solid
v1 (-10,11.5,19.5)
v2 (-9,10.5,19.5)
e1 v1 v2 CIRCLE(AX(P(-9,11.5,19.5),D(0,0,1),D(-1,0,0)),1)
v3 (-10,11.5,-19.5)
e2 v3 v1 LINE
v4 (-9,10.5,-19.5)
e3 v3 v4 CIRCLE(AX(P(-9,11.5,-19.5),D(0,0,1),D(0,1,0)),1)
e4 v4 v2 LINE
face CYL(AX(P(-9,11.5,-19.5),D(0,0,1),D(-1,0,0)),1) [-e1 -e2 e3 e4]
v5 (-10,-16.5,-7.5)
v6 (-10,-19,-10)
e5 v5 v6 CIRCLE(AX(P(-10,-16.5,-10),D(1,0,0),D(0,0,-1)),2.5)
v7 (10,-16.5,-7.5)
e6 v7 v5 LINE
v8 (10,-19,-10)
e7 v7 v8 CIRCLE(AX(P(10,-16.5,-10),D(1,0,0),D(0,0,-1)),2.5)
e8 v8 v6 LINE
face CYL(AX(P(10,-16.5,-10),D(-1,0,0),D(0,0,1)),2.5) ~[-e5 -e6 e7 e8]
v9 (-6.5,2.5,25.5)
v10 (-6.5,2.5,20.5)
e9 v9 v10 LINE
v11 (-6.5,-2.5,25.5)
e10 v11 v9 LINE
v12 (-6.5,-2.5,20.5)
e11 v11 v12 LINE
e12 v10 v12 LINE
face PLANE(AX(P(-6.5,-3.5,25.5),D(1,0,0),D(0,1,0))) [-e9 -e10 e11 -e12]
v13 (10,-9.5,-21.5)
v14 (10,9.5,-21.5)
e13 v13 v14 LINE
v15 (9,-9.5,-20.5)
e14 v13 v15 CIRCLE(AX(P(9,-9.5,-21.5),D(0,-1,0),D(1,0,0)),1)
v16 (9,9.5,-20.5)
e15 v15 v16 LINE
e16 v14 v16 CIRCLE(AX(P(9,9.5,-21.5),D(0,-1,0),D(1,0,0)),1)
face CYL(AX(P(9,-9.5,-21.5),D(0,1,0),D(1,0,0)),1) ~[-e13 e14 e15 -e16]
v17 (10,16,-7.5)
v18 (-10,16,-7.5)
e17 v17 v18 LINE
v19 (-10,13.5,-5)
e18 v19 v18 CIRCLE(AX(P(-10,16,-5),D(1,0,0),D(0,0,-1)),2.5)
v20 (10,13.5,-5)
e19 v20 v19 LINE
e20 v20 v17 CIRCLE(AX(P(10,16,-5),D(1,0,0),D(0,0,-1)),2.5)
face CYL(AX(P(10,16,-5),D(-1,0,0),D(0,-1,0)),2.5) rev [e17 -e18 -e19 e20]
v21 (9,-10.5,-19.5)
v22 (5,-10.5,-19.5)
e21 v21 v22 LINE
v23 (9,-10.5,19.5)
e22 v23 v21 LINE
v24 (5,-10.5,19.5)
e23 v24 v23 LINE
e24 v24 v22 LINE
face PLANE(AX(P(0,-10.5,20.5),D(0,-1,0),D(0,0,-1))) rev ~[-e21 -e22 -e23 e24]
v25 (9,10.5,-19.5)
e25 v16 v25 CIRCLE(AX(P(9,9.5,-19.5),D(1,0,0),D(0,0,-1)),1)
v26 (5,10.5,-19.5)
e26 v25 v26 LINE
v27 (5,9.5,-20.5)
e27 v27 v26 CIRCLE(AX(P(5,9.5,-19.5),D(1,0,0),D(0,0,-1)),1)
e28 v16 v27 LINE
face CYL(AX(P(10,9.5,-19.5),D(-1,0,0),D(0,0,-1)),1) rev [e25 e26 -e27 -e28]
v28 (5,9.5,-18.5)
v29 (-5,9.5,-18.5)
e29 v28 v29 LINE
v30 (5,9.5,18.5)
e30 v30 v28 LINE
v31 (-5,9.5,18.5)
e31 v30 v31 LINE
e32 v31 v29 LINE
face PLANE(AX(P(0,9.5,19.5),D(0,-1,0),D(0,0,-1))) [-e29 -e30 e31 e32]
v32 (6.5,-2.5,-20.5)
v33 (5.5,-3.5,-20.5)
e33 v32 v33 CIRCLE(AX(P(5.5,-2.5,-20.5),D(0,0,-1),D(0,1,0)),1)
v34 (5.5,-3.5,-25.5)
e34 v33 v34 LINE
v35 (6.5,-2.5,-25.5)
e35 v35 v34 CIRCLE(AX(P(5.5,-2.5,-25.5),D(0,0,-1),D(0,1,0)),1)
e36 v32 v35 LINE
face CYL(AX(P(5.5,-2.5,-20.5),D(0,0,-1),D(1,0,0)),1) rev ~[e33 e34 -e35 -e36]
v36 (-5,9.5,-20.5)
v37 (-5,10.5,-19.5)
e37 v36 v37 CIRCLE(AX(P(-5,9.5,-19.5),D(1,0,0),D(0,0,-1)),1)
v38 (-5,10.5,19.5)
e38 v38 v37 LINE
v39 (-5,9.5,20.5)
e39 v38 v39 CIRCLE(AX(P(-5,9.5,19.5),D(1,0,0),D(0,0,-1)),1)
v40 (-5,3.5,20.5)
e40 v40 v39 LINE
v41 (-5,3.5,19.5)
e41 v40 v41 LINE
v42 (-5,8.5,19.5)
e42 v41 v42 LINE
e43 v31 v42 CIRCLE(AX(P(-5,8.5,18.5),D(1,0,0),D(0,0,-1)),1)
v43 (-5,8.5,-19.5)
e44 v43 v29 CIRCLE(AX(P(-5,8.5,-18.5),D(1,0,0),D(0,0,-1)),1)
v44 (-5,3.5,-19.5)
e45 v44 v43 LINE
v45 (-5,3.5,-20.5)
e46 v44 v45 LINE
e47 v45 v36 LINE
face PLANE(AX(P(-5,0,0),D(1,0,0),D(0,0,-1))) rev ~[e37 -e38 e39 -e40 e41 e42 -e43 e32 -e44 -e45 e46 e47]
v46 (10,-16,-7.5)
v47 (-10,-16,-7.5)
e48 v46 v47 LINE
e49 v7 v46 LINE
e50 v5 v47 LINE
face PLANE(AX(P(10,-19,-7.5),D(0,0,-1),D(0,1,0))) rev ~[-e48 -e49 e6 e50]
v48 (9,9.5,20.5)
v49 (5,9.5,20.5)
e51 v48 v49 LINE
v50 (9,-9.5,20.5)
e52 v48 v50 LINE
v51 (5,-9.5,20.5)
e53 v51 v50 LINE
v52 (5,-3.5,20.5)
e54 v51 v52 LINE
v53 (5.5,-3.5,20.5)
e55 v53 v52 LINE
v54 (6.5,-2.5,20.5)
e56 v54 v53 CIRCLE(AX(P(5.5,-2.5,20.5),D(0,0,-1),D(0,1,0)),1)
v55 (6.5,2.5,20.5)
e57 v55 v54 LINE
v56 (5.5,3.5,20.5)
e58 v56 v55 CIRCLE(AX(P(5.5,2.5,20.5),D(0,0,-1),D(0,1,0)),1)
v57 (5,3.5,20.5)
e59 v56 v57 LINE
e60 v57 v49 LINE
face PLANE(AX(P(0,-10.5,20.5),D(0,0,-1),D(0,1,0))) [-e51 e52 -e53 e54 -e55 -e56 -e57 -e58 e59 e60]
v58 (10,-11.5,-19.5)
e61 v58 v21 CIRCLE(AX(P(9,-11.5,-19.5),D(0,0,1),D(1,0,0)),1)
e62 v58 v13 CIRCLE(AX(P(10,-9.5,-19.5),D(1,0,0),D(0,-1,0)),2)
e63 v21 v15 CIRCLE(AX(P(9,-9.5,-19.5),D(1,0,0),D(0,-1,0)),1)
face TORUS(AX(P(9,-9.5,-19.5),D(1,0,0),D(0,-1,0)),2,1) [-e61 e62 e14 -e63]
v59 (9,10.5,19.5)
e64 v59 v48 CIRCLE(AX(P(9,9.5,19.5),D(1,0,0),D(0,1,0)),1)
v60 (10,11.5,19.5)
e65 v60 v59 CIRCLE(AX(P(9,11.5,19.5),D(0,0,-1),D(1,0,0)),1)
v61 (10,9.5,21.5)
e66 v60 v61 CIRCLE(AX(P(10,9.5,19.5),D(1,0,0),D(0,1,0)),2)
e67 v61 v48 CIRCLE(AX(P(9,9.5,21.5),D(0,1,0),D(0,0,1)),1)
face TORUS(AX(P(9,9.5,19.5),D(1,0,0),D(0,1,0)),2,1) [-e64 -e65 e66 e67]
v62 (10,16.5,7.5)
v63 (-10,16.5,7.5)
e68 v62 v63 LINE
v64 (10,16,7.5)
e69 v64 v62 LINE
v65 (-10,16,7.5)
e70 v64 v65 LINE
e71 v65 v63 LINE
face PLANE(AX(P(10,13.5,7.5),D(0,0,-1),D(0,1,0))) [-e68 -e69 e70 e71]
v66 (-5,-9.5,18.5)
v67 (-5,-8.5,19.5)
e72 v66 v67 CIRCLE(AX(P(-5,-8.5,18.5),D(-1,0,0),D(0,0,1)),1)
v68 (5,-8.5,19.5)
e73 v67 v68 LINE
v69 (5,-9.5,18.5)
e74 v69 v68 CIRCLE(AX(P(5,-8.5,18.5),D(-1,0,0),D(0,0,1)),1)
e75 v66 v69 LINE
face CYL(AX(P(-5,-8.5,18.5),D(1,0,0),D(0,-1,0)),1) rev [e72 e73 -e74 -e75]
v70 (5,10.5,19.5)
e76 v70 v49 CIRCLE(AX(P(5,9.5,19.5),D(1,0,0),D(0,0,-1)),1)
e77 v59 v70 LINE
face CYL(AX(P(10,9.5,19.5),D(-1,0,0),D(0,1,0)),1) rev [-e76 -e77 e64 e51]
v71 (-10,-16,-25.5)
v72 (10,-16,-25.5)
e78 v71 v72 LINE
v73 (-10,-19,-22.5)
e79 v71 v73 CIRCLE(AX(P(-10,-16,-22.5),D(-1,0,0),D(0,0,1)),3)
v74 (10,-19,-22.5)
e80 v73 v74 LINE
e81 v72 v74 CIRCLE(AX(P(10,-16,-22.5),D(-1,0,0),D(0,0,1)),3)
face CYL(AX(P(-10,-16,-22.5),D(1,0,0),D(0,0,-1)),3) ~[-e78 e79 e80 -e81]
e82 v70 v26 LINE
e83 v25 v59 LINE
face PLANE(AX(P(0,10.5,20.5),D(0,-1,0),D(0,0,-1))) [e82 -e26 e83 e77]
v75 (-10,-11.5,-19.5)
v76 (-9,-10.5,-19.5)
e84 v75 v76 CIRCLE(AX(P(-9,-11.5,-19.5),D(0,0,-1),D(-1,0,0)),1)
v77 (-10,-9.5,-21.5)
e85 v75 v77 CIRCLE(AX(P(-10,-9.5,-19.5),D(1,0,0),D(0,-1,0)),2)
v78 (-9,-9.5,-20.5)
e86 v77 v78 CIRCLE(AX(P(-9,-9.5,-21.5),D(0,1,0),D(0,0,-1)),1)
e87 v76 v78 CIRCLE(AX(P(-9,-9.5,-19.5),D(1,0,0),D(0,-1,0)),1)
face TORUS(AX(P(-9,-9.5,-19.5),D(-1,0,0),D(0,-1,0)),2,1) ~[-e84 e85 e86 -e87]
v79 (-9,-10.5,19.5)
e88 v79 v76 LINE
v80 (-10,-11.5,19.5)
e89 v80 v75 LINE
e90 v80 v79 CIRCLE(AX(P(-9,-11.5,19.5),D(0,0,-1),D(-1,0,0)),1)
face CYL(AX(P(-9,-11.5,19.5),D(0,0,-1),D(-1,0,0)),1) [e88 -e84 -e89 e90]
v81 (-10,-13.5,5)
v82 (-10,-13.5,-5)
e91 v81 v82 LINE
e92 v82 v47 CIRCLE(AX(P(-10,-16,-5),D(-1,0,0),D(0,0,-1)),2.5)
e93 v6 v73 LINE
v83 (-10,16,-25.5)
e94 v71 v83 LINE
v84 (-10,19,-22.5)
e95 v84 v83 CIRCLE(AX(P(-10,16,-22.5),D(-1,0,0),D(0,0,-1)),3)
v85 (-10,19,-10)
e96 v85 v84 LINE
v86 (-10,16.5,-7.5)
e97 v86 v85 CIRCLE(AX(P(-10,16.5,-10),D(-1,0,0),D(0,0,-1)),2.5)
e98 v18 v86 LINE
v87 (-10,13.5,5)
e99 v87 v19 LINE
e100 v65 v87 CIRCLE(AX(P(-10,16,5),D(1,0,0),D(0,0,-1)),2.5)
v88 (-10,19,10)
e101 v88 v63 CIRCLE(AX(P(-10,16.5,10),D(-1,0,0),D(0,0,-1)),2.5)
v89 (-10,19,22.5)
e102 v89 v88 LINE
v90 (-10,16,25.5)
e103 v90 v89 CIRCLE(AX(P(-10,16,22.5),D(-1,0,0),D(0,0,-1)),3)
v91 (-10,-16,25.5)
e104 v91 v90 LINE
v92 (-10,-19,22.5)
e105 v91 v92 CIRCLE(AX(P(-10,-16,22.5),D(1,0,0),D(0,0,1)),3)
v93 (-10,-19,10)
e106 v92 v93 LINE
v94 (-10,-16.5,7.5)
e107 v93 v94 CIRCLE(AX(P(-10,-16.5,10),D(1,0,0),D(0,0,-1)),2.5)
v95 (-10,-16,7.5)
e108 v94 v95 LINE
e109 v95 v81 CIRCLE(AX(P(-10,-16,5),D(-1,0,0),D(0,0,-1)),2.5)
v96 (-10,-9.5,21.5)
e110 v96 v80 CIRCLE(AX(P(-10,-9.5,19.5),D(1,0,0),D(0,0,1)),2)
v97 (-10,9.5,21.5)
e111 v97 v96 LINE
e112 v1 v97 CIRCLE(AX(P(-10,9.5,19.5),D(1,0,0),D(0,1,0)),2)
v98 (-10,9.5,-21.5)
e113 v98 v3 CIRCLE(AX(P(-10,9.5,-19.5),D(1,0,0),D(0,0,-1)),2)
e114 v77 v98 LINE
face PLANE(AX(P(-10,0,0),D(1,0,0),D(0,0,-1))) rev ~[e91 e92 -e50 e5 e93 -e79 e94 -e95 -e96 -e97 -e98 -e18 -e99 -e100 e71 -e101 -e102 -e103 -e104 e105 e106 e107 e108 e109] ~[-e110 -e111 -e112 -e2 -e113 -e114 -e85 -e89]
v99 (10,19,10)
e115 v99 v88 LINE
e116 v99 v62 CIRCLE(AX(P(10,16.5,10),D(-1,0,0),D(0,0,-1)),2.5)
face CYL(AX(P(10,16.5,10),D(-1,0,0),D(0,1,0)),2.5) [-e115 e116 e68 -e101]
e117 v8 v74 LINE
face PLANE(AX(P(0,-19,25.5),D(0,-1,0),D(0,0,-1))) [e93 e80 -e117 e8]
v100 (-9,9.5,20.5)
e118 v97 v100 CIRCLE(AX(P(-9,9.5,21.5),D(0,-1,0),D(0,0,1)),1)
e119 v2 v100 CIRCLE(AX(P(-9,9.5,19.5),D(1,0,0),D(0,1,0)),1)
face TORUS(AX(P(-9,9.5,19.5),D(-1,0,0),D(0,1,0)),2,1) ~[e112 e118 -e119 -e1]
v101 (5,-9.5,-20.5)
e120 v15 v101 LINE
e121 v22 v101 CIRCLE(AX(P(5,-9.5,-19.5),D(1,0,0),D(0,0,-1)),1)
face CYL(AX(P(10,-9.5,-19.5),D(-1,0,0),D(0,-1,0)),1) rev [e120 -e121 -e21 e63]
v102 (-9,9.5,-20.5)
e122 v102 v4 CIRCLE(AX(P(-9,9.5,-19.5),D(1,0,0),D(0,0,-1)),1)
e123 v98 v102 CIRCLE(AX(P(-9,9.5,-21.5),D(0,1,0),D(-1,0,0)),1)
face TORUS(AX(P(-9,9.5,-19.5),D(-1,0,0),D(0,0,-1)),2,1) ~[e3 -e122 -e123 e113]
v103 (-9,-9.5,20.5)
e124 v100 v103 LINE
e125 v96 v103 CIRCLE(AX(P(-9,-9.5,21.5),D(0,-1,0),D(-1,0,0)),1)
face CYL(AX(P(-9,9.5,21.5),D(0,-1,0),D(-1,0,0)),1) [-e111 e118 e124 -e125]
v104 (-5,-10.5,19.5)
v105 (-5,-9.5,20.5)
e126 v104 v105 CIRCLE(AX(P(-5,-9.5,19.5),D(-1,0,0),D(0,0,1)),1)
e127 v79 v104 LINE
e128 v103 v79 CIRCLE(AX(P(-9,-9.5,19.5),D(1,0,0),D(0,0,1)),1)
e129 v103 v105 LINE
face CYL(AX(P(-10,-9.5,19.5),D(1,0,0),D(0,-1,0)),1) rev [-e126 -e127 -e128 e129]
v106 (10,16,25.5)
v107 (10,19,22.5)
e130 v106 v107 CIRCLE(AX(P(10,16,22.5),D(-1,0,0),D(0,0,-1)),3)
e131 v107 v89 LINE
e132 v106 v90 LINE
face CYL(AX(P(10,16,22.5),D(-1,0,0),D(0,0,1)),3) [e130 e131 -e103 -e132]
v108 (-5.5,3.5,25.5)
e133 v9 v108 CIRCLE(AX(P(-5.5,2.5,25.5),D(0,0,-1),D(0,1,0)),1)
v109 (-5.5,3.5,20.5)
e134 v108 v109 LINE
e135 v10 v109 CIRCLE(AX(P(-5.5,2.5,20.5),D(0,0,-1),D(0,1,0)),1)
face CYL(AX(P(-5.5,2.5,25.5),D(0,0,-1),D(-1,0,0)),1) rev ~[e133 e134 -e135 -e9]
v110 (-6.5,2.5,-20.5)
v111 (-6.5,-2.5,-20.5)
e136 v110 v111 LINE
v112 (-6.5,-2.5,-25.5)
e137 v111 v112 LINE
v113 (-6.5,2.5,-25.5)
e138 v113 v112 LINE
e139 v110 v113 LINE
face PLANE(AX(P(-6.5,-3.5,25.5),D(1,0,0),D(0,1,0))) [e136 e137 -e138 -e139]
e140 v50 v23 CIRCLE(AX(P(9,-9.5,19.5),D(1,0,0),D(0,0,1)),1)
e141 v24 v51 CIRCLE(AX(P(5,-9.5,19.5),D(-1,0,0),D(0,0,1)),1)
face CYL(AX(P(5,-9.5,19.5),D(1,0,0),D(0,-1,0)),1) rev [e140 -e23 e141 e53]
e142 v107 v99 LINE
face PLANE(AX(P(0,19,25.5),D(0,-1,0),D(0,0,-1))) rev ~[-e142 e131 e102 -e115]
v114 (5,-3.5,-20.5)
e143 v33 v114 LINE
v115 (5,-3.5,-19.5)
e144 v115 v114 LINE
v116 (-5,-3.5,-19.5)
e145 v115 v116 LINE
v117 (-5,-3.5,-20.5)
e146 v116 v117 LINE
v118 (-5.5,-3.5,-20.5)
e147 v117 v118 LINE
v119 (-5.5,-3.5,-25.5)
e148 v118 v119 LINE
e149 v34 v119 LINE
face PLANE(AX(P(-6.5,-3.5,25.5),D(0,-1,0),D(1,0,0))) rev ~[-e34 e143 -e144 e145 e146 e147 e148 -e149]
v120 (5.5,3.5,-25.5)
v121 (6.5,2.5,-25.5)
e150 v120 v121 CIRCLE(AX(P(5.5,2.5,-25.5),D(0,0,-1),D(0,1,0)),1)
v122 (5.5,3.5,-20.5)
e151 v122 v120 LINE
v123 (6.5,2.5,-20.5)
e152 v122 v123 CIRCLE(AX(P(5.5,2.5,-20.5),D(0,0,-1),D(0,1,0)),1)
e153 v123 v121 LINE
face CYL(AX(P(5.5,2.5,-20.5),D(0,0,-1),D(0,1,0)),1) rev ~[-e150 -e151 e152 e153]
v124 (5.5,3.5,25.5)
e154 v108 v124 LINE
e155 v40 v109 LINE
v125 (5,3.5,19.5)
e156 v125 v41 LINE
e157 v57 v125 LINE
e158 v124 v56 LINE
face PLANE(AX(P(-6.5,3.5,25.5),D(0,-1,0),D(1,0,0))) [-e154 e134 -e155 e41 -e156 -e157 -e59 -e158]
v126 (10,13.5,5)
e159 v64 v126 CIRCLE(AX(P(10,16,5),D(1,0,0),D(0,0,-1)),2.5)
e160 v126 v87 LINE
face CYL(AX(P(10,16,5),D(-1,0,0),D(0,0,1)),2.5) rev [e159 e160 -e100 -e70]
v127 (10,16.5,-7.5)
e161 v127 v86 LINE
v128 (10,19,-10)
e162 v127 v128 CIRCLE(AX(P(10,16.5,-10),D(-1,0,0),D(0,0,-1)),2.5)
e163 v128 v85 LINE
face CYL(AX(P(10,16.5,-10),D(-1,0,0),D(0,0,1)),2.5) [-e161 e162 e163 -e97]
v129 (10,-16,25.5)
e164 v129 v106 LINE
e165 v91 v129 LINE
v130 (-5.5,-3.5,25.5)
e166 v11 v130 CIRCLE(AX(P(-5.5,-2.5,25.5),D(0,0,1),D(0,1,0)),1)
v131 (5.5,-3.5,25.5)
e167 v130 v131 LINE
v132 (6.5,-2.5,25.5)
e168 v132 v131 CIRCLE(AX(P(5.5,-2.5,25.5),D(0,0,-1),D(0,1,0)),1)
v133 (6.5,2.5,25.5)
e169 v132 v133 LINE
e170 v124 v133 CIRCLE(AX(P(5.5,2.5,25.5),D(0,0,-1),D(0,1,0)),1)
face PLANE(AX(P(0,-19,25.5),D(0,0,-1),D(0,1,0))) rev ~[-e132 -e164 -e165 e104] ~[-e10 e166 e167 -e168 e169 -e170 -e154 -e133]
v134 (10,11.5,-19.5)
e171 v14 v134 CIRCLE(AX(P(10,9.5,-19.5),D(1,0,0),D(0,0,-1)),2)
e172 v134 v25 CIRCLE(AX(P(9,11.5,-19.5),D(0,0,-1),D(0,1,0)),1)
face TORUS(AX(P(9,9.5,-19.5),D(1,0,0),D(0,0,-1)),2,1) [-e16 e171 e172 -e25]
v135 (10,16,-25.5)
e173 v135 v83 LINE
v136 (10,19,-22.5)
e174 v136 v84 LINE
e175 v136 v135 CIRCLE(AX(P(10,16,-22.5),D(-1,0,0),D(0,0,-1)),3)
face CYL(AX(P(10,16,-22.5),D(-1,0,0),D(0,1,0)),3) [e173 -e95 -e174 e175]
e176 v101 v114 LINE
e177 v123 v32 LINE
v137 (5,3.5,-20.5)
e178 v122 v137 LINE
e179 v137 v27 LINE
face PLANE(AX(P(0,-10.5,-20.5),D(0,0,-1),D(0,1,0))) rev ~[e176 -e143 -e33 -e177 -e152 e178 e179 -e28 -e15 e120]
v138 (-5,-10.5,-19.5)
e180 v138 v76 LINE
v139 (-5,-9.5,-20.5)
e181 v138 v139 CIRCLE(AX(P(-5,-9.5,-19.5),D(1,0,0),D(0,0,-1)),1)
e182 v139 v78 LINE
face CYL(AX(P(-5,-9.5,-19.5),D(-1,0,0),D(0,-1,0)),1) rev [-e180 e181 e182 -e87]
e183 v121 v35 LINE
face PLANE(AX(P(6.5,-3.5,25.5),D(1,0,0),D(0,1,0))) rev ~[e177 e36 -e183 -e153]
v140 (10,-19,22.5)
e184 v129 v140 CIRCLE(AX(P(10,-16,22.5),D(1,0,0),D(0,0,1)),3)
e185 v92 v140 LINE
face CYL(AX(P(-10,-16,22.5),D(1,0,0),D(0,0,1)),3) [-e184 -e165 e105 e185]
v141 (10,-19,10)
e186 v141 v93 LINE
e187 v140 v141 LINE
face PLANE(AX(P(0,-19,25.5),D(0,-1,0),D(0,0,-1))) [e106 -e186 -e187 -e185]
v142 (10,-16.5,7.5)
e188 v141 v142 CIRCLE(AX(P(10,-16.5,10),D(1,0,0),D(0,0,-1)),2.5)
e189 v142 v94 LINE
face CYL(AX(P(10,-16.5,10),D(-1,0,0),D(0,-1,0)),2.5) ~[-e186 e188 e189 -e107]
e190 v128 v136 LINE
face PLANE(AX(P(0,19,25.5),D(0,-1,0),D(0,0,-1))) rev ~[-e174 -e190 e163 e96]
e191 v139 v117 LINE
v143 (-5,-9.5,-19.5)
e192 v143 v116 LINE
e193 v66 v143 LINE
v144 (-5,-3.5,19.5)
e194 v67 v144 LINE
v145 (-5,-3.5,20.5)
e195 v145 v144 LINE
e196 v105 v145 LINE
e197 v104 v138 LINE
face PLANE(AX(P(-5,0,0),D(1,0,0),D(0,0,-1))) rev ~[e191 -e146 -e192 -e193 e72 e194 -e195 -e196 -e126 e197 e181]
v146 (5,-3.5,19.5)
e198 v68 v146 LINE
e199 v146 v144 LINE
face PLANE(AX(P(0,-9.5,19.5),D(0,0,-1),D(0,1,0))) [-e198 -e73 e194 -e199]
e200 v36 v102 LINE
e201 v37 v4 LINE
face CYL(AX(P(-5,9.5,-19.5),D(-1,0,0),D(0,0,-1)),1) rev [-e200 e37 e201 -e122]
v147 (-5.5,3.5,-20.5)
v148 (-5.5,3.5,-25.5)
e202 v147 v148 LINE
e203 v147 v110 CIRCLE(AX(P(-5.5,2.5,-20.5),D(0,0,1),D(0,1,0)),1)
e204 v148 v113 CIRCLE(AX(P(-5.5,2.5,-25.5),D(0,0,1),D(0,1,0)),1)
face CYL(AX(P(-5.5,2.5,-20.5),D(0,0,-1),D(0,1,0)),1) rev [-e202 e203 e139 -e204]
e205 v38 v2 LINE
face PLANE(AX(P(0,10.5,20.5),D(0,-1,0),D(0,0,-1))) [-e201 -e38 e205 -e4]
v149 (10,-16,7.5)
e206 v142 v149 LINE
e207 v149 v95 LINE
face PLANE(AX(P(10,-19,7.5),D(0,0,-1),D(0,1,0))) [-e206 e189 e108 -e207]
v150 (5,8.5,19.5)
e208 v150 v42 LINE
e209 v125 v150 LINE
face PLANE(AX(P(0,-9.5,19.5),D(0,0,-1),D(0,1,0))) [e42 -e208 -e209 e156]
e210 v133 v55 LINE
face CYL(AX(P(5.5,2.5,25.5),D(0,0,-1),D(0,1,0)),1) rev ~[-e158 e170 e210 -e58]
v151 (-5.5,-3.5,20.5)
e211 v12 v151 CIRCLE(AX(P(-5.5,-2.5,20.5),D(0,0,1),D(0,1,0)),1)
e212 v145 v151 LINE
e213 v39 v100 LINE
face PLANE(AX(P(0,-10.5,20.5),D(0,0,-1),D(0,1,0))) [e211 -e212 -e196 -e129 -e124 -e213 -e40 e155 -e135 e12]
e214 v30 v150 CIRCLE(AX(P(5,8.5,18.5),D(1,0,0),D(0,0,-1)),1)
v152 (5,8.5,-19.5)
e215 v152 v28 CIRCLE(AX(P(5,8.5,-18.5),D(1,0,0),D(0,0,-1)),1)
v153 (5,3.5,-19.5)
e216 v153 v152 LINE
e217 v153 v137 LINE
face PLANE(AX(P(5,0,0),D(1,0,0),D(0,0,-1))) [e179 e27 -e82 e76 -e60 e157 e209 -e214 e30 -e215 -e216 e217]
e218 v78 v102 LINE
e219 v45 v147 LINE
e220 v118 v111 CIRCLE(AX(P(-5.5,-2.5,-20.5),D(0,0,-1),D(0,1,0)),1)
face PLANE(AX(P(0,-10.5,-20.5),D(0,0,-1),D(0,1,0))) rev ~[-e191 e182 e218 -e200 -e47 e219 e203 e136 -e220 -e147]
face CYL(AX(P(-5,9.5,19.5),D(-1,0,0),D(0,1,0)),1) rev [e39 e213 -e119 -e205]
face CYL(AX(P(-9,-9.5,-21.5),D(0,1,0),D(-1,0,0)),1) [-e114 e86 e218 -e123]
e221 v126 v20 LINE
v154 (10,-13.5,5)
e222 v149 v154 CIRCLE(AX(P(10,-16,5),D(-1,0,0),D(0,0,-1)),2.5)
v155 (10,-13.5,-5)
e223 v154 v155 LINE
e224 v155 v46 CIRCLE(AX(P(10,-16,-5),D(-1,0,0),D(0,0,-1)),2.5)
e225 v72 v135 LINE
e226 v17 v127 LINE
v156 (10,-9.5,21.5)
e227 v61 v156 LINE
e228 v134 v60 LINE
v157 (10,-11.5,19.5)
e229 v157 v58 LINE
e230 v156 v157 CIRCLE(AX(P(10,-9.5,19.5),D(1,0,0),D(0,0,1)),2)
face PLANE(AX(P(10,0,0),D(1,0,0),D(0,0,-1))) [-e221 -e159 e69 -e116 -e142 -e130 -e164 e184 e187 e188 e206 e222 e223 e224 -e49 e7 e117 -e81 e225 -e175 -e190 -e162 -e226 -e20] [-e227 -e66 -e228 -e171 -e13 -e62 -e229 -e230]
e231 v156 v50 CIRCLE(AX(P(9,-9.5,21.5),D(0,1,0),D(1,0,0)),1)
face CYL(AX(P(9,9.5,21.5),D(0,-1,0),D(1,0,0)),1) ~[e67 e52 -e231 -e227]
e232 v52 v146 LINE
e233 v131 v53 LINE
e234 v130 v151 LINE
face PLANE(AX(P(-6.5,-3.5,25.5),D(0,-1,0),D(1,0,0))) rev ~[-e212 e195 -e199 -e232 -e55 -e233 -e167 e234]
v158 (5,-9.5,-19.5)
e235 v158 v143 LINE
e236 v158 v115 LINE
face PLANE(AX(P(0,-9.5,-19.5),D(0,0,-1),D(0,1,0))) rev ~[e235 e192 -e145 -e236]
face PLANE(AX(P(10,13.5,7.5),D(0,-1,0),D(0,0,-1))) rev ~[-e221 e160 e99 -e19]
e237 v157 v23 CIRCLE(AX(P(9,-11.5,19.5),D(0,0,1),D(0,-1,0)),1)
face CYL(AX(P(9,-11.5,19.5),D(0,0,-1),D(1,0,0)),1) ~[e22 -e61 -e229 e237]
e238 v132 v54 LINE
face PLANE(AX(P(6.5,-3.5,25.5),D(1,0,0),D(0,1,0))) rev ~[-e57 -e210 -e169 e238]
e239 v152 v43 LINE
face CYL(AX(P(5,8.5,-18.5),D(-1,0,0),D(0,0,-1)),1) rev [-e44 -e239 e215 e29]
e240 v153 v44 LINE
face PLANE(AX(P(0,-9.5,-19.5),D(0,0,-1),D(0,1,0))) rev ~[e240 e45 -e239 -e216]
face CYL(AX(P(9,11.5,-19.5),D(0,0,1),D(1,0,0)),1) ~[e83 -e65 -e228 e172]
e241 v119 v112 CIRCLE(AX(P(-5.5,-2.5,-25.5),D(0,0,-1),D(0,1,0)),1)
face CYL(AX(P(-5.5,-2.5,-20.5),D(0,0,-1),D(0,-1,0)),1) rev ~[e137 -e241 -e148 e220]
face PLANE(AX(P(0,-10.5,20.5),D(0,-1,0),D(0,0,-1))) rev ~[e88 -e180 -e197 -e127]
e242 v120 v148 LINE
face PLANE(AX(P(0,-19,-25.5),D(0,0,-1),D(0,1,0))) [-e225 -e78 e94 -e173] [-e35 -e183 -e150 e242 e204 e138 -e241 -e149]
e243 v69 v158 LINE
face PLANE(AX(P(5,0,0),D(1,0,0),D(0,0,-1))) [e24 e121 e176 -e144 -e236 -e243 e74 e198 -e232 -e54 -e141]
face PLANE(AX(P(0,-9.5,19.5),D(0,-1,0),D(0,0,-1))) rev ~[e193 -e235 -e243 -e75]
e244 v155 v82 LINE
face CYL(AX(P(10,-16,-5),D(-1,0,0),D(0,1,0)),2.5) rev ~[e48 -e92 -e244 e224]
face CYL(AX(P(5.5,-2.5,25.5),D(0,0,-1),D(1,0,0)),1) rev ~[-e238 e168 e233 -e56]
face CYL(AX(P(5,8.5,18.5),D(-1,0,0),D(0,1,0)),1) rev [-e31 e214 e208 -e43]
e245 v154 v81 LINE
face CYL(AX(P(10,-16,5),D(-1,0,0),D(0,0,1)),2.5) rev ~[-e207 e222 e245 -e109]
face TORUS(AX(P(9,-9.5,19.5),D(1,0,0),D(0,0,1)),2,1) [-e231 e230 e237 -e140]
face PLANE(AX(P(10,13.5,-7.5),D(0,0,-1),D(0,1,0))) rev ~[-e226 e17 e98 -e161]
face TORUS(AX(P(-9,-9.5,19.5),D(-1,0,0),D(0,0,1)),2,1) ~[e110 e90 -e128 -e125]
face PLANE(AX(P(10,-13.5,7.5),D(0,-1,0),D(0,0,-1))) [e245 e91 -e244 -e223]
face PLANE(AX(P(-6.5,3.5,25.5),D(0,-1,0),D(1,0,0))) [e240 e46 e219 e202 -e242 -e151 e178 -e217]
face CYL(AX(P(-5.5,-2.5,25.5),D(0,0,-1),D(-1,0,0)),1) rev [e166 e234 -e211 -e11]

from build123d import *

# Parameters (mm, degrees)
SKETCH1_W                   = 51
SKETCH1_H                   = 38
SKETCH1_W_2                 = 41
SKETCH1_H_2                 = 21
MAIN_BODY_DEPTH             = 10
SKETCH2_W                   = 41
SKETCH2_H                   = 21
SKETCH2_W_2                 = 39
SKETCH2_H_2                 = 19
MID_SERVO_GAP_DEPTH         = 5
EDGE_CONTOURING_R           = 1
SKETCH3_W                   = 13
SKETCH3_H                   = 7
AIRWAY_DEPTH                = 52
SKETCH4_W                   = 15
SKETCH4_H                   = 5.5
CLEARANCE_CABLES_DEPTH      = 21
CONTOURING_OUTER_R          = 3
CONTOURING_AIRWAY_R         = 1
CONTOURING_INNER_R          = 2.5
CLEARANCE_SERVO_INSERTION_R = 1


with BuildPart() as part:
    # Sketch1 → Main Body (new body, symmetric)
    with BuildSketch(Plane(origin=(0, 0, 0), x_dir=(0, 0, -1), z_dir=(1, 0, 0))):
        Rectangle(SKETCH1_W, SKETCH1_H)
        Rectangle(SKETCH1_W_2, SKETCH1_H_2, mode=Mode.SUBTRACT)
    extrude(amount=MAIN_BODY_DEPTH, both=True)

    # Sketch2 → Mid Servo Gap (add, symmetric)
    with BuildSketch(Plane(origin=(0, 0, 0), x_dir=(0, 0, -1), z_dir=(1, 0, 0))):
        Rectangle(SKETCH2_W, SKETCH2_H)
        Rectangle(SKETCH2_W_2, SKETCH2_H_2, mode=Mode.SUBTRACT)
    extrude(amount=MID_SERVO_GAP_DEPTH, both=True)

    # Edge Contouring
    edge_contouring_edges = [part.edges().sort_by_distance(p)[0] for p in [
        (7.5, 10.5, 20.5),
        (7.5, -10.5, 20.5),
        (7.5, -10.5, -20.5),
        (7.5, 10.5, -20.5),
        (-7.5, 10.5, -20.5),
        (-7.5, 10.5, 20.5),
        (-7.5, -10.5, -20.5),
        (-7.5, -10.5, 20.5),
        (0, 9.5, 19.5),
        (0, -9.5, 19.5),
        (0, 9.5, -19.5),
    ]]
    fillet(edge_contouring_edges, radius=EDGE_CONTOURING_R)

    # Sketch3 → Airway (cut, through all)
    with BuildSketch(Plane.XY.offset(25.5)):
        Rectangle(SKETCH3_W, SKETCH3_H)
    extrude(amount=-AIRWAY_DEPTH, mode=Mode.SUBTRACT)

    # Sketch4 → Clearance - Cables (cut, through all)
    with BuildSketch(Plane(origin=(10, 0, 0), x_dir=(0, 0, -1), z_dir=(1, 0, 0))):
        with Locations((0, 16.25)):
            Rectangle(SKETCH4_W, SKETCH4_H)
        with Locations((0, -16.25)):
            Rectangle(SKETCH4_W, SKETCH4_H)
    extrude(amount=-CLEARANCE_CABLES_DEPTH, mode=Mode.SUBTRACT)

    # Contouring - Outer
    contouring_outer_edges = [part.edges().sort_by_distance(p)[0] for p in [
        (0, 19, 25.5),
        (0, 19, -25.5),
        (0, -19, -25.5),
        (0, -19, 25.5),
    ]]
    fillet(contouring_outer_edges, radius=CONTOURING_OUTER_R)

    # Contouring - Airway
    contouring_airway_edges = [part.edges().sort_by_distance(p)[0] for p in [
        (-6.5, -3.5, 23),
        (6.5, 3.5, 23),
        (-6.5, 3.5, 23),
        (6.5, -3.5, 23),
        (-6.5, -3.5, -23),
        (-6.5, 3.5, -23),
        (6.5, 3.5, -23),
        (6.5, -3.5, -23),
    ]]
    fillet(contouring_airway_edges, radius=CONTOURING_AIRWAY_R)

    # Contouring - Inner
    contouring_inner_edges = [part.edges().sort_by_distance(p)[0] for p in [
        (0, 13.5, 7.5),
        (0, 19, 7.5),
        (0, 19, -7.5),
        (0, 13.5, -7.5),
        (0, -19, -7.5),
        (0, -19, 7.5),
        (0, -13.5, 7.5),
        (0, -13.5, -7.5),
    ]]
    fillet(contouring_inner_edges, radius=CONTOURING_INNER_R)

    # Clearance - Servo Insertion
    clearance_servo_insertion_edges = [part.edges().sort_by_distance(p)[0] for p in [
        (-10, -10.5, 0),
        (-10, 0, -20.5),
        (-10, 0, 20.5),
        (10, 0, -20.5),
        (10, 10.5, 0),
        (-10, 10.5, 0),
        (10, 0, 20.5),
        (10, -10.5, 0),
        (-10, -10.207106781, -20.207106781),
        (-10, -10.207106781, 20.207106781),
        (10, 10.207106781, -20.207106781),
        (-10, 10.207106781, -20.207106781),
        (-10, 10.207106781, 20.207106781),
        (10, 10.207106781, 20.207106781),
        (10, -10.207106781, 20.207106781),
        (10, -10.207106781, -20.207106781),
    ]]
    fillet(clearance_servo_insertion_edges, radius=CLEARANCE_SERVO_INSERTION_R)


solid = part.part
